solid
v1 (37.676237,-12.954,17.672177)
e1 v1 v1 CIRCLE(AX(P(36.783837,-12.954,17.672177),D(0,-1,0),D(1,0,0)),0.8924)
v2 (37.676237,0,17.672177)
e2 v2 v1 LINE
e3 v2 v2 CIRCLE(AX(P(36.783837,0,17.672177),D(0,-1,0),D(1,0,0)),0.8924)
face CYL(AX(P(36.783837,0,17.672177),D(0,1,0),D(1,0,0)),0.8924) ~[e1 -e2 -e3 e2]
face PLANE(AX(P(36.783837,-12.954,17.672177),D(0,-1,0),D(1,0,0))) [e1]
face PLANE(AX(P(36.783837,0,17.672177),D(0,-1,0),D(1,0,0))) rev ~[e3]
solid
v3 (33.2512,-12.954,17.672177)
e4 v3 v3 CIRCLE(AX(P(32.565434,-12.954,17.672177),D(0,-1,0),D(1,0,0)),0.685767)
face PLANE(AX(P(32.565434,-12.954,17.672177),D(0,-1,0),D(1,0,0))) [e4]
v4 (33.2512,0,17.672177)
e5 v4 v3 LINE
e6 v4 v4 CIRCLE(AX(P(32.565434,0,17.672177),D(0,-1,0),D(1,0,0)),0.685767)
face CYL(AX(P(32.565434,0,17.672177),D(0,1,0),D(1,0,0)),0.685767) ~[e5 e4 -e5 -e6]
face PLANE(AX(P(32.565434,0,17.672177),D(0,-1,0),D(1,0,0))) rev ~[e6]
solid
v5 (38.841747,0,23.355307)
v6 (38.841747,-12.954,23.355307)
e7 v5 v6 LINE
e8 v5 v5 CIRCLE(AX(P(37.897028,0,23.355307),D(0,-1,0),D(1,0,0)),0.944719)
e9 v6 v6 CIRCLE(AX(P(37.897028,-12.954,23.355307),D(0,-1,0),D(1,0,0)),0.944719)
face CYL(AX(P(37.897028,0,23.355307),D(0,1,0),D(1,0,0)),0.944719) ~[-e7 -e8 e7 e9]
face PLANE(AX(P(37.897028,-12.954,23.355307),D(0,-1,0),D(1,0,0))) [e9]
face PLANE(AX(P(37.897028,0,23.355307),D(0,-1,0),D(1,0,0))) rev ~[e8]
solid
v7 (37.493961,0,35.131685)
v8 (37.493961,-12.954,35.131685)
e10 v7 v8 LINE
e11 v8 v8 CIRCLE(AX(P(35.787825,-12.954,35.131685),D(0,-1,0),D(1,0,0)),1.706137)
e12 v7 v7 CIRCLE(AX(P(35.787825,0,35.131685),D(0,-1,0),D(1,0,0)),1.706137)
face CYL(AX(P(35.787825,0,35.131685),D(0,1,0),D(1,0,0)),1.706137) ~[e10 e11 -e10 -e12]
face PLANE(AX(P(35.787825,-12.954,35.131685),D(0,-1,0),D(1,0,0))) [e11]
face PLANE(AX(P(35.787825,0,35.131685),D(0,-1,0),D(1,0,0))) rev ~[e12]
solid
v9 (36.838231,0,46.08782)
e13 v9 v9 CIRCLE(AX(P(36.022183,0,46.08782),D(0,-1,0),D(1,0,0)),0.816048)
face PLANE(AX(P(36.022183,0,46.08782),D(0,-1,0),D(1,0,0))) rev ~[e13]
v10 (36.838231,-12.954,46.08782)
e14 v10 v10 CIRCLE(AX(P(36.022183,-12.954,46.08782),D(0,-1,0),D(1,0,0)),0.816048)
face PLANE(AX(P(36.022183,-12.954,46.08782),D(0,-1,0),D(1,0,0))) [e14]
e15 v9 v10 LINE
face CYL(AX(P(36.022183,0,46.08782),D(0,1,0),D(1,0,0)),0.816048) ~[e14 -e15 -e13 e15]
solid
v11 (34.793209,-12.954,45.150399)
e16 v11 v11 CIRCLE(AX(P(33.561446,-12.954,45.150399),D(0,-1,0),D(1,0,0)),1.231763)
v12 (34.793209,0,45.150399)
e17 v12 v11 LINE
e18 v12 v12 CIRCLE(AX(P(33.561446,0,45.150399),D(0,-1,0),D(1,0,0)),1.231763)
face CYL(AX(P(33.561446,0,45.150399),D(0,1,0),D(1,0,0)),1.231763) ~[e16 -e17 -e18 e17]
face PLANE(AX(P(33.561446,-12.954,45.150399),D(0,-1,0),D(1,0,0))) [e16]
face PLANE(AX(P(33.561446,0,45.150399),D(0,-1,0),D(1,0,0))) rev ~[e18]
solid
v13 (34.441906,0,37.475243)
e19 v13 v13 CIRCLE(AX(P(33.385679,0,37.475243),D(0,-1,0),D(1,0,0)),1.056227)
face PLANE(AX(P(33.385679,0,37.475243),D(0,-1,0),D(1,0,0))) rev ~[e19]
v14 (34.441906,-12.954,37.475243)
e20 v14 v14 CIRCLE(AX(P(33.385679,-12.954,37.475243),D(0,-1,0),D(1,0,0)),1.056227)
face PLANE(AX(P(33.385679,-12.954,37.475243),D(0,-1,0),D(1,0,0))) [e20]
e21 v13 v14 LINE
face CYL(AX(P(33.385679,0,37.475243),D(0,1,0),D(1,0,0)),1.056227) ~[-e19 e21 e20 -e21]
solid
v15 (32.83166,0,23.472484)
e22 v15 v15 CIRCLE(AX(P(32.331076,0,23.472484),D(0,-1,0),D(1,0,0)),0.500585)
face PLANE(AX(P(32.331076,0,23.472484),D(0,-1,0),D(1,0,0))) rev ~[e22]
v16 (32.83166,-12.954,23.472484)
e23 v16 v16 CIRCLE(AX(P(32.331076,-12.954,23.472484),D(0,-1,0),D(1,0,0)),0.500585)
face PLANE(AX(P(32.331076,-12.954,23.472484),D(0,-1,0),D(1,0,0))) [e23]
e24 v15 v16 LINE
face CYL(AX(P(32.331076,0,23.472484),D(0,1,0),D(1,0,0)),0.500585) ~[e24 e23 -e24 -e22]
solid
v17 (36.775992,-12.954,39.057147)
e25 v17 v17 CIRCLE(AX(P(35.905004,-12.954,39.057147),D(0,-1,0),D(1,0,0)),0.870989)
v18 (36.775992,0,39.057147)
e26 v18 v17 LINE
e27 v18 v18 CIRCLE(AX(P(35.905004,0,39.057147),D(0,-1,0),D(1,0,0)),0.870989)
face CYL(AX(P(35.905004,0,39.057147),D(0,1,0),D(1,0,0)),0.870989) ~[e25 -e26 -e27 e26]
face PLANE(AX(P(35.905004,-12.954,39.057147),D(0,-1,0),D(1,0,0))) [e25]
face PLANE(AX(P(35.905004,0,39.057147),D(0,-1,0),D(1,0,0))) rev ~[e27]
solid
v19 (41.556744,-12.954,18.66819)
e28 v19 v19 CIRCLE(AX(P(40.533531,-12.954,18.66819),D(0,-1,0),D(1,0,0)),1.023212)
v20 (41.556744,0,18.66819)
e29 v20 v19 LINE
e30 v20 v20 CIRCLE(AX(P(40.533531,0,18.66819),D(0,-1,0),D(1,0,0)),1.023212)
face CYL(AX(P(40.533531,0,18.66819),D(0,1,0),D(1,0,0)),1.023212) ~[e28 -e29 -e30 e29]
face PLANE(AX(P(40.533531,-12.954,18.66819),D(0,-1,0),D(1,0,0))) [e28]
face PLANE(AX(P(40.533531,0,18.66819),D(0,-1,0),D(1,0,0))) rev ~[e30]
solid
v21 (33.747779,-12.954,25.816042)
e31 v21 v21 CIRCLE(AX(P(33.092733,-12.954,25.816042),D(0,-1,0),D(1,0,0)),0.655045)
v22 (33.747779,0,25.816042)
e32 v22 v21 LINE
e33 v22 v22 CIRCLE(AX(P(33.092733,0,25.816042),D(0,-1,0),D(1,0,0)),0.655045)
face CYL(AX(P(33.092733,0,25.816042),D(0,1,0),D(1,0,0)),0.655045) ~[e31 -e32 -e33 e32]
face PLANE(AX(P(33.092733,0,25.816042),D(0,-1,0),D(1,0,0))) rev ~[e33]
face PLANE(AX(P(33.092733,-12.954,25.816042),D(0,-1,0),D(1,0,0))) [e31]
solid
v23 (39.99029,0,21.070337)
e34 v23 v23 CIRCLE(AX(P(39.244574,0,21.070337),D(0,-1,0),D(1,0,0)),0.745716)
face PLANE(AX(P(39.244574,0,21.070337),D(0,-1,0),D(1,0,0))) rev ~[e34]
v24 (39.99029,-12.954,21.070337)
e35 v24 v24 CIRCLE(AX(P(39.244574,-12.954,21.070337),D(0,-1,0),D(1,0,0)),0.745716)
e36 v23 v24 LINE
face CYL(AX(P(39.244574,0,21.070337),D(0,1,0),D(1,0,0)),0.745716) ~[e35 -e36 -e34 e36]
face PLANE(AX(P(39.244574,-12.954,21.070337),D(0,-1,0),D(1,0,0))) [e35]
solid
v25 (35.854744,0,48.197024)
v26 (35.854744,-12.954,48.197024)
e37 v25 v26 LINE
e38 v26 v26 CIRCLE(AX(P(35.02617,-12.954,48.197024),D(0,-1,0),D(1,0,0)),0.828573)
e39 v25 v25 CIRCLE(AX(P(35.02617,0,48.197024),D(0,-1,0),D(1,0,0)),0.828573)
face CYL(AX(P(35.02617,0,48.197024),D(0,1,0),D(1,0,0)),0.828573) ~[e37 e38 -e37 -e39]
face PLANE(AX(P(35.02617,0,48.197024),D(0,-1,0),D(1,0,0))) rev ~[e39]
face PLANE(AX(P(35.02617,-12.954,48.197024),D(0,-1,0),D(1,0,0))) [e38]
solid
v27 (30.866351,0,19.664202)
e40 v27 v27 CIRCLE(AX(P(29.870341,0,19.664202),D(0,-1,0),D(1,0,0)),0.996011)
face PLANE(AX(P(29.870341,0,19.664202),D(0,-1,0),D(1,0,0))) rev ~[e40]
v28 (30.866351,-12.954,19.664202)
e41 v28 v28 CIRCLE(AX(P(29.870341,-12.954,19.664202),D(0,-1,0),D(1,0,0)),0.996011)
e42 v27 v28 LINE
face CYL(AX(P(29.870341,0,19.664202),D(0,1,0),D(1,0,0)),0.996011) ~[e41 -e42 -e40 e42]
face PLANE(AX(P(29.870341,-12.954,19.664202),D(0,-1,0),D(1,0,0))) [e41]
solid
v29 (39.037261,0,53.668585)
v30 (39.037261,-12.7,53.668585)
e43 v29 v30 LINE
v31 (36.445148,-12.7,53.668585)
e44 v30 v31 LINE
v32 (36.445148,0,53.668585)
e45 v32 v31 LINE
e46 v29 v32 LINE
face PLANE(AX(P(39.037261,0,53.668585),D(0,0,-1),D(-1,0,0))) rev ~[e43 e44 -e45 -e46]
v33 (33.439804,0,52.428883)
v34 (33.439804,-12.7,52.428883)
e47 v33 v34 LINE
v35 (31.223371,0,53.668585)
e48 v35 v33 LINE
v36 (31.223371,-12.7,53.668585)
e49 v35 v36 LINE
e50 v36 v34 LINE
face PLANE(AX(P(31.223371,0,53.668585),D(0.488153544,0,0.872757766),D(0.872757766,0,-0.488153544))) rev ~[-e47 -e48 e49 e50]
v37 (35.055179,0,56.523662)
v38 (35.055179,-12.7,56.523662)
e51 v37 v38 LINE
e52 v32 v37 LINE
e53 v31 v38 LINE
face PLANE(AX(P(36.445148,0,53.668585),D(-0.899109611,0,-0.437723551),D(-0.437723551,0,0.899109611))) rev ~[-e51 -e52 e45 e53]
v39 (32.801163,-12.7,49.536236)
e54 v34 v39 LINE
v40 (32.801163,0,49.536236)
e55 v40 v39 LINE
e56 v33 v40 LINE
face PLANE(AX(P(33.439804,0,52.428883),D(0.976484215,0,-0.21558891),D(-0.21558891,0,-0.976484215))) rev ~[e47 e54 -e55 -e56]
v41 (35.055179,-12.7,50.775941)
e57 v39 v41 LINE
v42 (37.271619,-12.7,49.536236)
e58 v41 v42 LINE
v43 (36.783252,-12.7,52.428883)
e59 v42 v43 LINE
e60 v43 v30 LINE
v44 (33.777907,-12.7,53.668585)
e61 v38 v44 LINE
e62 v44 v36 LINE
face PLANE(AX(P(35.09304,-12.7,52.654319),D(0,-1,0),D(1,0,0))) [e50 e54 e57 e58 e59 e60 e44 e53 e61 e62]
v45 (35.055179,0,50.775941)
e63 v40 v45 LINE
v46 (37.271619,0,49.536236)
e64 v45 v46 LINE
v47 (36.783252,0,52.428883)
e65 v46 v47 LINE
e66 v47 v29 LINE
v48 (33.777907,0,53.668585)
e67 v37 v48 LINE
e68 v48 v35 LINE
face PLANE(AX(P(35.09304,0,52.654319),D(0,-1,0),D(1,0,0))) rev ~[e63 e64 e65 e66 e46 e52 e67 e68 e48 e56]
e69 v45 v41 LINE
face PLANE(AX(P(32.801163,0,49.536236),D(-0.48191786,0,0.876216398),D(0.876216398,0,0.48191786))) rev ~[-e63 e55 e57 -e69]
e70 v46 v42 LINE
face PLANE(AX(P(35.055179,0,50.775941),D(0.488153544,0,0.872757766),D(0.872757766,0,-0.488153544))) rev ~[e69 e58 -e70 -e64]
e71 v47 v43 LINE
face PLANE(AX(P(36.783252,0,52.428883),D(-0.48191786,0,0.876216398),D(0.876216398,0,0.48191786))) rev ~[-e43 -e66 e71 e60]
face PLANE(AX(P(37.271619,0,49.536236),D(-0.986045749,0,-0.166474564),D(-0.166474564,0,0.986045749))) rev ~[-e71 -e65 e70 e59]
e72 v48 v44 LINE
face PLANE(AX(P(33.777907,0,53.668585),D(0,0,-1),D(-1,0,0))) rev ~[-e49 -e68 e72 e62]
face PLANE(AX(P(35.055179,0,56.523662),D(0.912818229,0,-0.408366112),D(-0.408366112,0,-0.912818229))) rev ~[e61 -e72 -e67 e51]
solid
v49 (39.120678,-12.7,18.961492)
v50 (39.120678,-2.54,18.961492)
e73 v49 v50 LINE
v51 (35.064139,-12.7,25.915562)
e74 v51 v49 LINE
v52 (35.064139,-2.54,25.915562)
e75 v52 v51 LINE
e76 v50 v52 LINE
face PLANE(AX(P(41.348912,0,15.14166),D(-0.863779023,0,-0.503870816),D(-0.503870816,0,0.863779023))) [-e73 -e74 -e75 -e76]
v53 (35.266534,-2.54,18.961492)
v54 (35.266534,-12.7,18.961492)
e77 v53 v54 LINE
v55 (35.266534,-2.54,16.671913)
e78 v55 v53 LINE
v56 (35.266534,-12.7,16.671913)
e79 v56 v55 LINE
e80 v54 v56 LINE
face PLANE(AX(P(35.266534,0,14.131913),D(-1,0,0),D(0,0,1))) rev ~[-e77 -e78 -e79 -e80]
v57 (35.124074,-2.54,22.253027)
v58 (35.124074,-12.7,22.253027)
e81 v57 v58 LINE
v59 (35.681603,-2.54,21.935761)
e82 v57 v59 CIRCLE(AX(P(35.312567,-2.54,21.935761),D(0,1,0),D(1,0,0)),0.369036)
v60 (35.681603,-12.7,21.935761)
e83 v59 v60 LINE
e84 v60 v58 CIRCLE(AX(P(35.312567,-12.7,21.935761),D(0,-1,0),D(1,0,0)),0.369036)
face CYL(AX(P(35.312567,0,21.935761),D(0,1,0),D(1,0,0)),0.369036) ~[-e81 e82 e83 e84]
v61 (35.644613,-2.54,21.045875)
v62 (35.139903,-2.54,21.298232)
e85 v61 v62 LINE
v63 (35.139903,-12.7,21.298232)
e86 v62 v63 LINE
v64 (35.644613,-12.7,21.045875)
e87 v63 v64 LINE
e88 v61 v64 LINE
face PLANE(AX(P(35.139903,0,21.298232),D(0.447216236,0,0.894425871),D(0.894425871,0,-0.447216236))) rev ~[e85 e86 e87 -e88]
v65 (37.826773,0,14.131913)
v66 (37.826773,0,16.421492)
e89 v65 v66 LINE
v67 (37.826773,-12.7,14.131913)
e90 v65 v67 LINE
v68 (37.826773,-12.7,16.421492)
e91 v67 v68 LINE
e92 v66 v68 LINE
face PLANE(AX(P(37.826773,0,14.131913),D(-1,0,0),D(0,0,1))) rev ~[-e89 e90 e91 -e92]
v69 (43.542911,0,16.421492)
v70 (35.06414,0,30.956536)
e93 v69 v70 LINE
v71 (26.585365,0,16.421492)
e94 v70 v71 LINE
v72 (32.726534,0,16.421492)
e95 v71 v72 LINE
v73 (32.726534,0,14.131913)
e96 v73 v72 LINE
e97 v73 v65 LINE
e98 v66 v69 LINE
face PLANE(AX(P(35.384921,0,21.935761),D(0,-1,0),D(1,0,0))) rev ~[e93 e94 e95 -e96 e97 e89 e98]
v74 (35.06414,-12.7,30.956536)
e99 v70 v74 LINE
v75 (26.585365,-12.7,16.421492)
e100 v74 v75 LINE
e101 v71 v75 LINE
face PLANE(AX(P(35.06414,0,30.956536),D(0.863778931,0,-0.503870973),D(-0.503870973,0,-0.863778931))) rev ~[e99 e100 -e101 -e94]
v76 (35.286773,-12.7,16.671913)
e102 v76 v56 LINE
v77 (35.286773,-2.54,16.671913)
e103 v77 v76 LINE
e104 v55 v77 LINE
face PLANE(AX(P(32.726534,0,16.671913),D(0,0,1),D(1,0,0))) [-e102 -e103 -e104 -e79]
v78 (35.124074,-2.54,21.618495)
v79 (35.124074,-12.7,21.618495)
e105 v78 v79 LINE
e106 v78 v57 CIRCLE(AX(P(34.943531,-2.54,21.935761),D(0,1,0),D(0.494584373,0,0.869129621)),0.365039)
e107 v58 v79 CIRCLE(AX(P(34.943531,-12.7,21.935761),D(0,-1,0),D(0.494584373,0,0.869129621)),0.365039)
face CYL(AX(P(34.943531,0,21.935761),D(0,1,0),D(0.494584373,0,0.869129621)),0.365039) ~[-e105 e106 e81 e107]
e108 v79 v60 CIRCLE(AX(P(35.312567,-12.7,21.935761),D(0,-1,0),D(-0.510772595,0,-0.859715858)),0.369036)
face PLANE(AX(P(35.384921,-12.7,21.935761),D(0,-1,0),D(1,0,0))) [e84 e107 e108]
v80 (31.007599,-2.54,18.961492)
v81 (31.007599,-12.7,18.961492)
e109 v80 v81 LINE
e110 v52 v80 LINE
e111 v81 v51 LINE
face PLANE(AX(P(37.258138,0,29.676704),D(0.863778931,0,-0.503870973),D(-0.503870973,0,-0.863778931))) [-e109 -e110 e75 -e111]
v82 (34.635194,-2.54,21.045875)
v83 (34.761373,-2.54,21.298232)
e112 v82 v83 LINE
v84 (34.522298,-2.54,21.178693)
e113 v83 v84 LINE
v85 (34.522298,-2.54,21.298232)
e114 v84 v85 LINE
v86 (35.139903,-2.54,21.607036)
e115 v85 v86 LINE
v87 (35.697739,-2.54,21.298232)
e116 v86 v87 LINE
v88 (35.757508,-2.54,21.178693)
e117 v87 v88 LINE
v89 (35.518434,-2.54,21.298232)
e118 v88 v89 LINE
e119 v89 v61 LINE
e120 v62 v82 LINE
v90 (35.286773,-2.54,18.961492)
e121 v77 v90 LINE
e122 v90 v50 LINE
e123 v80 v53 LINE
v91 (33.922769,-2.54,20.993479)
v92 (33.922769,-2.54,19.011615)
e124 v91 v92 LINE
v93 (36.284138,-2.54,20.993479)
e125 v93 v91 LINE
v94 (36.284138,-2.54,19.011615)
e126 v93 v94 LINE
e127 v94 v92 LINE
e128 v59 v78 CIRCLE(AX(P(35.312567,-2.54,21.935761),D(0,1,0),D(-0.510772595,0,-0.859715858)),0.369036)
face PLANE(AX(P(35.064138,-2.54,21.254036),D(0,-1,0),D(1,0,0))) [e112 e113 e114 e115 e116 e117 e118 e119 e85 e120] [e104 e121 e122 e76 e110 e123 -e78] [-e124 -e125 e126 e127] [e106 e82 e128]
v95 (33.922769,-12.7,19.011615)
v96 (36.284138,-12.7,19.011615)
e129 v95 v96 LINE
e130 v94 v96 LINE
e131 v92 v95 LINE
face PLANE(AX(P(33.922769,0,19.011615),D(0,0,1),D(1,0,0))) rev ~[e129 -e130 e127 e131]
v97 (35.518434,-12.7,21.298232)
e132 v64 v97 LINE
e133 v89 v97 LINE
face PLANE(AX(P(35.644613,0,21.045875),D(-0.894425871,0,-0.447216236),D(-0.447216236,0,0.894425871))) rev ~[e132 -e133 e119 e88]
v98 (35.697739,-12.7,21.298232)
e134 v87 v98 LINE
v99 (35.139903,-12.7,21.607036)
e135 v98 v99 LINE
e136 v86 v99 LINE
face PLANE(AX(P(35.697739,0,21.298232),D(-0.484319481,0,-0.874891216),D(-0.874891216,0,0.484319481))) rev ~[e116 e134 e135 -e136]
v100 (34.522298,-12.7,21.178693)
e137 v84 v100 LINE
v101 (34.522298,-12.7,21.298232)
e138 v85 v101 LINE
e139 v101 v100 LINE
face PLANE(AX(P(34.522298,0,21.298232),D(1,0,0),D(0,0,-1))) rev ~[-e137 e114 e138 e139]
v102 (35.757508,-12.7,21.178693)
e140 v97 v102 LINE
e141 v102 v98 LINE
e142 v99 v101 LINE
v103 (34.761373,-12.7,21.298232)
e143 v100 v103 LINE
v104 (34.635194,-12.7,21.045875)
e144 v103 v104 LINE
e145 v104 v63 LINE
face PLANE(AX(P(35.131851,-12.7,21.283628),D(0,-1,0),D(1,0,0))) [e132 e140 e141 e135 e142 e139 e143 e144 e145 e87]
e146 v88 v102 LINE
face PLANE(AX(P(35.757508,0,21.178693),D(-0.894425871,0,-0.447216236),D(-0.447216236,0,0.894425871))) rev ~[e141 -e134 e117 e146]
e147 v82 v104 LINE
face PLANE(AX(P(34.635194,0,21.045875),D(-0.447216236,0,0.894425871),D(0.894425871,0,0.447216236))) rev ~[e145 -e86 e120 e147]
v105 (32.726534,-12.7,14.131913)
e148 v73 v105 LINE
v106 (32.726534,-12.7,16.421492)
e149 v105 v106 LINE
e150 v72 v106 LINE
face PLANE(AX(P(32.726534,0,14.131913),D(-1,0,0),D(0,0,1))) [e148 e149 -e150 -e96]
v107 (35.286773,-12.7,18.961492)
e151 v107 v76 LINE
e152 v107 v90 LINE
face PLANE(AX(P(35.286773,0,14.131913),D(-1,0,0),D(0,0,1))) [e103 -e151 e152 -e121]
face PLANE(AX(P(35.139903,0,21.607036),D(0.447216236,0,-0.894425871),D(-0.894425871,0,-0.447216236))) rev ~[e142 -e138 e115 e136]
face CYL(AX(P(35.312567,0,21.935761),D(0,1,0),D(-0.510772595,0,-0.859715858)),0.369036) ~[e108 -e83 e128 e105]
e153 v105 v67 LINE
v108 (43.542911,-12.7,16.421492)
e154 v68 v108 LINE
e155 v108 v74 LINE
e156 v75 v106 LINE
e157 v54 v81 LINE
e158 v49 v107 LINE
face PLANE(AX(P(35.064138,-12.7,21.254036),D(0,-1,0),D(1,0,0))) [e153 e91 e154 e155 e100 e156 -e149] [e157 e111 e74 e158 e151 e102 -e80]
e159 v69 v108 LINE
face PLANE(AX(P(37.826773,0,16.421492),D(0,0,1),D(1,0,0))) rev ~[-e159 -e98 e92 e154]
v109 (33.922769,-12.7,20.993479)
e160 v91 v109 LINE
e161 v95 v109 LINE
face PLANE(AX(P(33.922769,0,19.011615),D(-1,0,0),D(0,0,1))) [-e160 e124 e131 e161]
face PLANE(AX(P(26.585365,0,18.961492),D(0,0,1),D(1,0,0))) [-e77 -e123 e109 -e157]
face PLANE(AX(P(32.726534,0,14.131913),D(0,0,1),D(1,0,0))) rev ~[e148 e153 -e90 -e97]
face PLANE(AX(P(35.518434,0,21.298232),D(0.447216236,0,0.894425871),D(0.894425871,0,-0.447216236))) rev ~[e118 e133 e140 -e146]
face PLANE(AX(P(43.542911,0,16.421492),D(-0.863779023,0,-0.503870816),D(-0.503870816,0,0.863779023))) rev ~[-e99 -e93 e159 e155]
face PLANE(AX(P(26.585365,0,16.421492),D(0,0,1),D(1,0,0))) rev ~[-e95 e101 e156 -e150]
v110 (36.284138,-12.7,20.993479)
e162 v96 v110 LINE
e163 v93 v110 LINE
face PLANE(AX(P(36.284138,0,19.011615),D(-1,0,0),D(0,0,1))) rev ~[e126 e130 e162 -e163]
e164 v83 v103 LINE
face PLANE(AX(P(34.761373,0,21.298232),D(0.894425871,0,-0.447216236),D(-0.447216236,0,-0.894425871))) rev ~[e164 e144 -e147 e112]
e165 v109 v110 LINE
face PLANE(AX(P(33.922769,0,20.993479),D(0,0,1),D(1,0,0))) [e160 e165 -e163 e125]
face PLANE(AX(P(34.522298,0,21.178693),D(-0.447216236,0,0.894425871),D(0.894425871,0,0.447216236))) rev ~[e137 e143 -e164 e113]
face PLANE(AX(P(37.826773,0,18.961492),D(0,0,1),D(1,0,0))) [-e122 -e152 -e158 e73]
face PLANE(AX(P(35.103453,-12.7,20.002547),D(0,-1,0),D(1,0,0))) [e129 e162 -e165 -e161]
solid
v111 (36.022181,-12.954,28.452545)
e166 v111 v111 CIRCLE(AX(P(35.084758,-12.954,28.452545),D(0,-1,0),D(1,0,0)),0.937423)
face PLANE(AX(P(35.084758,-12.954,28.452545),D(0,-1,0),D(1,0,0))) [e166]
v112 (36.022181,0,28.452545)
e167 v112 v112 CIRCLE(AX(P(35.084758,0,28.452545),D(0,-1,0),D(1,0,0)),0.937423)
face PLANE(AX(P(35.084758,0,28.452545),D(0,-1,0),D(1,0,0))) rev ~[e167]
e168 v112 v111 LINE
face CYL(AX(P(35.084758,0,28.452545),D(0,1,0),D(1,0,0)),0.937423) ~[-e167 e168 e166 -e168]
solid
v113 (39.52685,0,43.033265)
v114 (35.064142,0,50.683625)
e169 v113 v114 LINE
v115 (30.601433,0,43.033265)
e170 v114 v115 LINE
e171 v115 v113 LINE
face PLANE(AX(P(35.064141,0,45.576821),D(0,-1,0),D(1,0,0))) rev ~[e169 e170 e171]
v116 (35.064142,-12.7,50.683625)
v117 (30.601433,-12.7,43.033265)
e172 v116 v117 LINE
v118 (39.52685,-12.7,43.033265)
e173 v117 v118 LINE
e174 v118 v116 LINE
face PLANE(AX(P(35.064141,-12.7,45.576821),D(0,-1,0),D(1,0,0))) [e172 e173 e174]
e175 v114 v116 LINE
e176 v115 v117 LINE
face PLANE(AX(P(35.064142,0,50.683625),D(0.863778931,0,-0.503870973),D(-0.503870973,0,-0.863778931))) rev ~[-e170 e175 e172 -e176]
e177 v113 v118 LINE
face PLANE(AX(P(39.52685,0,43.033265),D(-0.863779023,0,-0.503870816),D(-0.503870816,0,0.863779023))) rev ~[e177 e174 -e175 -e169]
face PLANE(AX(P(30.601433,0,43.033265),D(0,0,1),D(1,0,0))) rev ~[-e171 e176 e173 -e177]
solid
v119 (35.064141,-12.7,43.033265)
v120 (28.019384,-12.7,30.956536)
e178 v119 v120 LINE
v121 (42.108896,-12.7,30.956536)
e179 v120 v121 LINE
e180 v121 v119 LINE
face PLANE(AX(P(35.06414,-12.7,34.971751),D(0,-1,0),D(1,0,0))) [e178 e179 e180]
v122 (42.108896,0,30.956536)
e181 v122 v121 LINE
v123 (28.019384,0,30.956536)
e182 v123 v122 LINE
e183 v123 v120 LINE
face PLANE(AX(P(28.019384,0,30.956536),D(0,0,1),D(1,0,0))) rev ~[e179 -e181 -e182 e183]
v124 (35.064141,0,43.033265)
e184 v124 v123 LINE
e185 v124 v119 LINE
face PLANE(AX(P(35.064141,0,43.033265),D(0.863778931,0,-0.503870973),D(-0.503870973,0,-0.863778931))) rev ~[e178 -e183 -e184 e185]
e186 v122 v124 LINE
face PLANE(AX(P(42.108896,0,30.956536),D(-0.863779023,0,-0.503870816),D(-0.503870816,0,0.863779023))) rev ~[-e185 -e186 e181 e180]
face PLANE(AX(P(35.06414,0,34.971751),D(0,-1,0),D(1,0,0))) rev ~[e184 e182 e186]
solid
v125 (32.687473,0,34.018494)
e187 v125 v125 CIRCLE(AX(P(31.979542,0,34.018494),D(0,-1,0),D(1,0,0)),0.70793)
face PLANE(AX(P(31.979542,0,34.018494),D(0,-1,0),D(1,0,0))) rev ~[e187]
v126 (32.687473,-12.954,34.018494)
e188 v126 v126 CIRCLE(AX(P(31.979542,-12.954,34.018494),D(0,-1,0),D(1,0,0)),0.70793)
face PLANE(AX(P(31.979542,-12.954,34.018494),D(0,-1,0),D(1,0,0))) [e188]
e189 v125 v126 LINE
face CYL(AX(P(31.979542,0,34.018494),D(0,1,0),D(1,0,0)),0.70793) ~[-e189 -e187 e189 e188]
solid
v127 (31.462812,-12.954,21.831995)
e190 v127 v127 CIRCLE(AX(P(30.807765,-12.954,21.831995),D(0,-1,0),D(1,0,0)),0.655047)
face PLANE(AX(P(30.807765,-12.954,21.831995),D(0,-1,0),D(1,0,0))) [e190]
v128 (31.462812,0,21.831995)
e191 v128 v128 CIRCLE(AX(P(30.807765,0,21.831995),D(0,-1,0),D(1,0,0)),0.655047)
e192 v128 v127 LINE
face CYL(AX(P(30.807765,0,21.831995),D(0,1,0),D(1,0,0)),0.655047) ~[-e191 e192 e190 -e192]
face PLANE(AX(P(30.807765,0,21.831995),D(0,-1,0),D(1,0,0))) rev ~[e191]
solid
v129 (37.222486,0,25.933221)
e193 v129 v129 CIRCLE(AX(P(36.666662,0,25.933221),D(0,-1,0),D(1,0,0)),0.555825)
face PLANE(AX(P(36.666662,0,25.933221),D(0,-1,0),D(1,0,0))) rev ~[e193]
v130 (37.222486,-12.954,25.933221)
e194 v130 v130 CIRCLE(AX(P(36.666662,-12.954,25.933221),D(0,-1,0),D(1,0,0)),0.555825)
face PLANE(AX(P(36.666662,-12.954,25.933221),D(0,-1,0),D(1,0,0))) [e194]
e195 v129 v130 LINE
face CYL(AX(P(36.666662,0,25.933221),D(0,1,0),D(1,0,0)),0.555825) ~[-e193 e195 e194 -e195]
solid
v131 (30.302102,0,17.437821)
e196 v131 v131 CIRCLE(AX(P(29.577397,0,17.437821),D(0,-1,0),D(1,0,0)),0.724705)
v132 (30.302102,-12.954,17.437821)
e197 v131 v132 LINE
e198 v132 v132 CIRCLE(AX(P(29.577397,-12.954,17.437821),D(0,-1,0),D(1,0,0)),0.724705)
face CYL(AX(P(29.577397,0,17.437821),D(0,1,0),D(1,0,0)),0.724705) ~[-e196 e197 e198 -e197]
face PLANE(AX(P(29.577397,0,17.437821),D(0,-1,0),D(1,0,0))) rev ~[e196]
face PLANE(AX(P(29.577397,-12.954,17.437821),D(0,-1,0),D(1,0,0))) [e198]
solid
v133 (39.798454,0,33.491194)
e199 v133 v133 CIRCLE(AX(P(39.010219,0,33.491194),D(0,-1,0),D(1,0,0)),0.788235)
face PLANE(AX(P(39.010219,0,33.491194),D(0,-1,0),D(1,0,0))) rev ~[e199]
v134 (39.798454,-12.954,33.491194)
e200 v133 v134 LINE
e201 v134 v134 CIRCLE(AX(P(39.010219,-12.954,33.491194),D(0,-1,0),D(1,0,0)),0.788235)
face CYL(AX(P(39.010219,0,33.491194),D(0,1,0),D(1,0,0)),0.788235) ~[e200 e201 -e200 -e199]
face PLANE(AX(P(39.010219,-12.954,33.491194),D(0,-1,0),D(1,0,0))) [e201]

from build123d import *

# Parameters (mm, degrees)
F1_DEPTH  = 12.7
F0_W      = 5.1002390683
F0_H      = 2.2895792141
F3_DEPTH  = 12.7
F4_T      = -2.54
F5_W      = 2.3613683879
F5_H      = 1.981863752
F6_DEPTH  = 12.7
F9_DEPTH  = 12.7
F10_R     = 0.8285733242
F11_DEPTH = 12.954
F10_R_2   = 0.816047988
F10_R_3   = 1.231762956
F10_R_4   = 0.8709889413
F10_R_5   = 1.0562272673
F10_R_6   = 1.7061367345
F10_R_7   = 0.7079304111
F10_R_8   = 0.7882346416
F10_R_9   = 0.9374227375
F10_R_10  = 0.5558247078
F10_R_11  = 0.9447190346
F10_R_12  = 1.0232124047
F10_R_13  = 0.7457160445
F10_R_14  = 0.8924004094
F10_R_15  = 0.6550450615
F10_R_16  = 0.5005847924
F10_R_17  = 0.6550465609
F10_R_18  = 0.9960107067
F10_R_19  = 0.7247049022
F10_R_20  = 0.6857666645


with BuildPart() as f1:
    # F0 (on Front) → F1 (new body)
    with BuildSketch(Plane.XZ):
        Polygon((39.5268499851, 43.0332645774), (35.0641421974, 50.6836250424), (30.601432547, 43.0332645774), (35.064141266, 43.0332645774), align=None)
    extrude(amount=F1_DEPTH)


with BuildPart() as f1b:
    # F0 (on Front) → F1, piece 2 (new body)
    with BuildSketch(Plane.XZ):
        Polygon((43.5429106829, 16.4214921757), (35.0641397959, 30.9565360708), (26.58536537, 16.4214921757), (32.726533711, 16.4214921757), (37.8267727792, 16.4214921757), align=None)
        with Locations((35.2766532451, 15.2767025686)):
            Rectangle(F0_W, F0_H)
    extrude(amount=F1_DEPTH)

    # F4
    f4_openings = [f1b.faces().sort_by_distance(p)[0] for p in [
        (35.082532, -12.7, 20.748073),
    ]]
    offset(amount=F4_T, openings=f4_openings, kind=Kind.INTERSECTION)

    # F5 (on Front) → F6 (join)
    with BuildSketch(Plane.XZ):
        with Locations((35.1034533232, 20.0025467202)):
            Rectangle(F5_W, F5_H)
    extrude(amount=F6_DEPTH)

    # F8 (on Front) + F7 (on Front) → F9 (join)
    with BuildSketch(Plane.XZ):
        with BuildLine():
            ThreePointArc((35.1240735138, 21.6184950134), (35.4950862646, 21.6150209975), (35.6816027436, 21.9357609749))
            ThreePointArc((35.6816027436, 21.9357609749), (35.4950862646, 22.2565009523), (35.1240735138, 22.2530269364))
            ThreePointArc((35.1240735138, 22.2530269364), (35.2590926691, 22.1192661278), (35.3085697856, 21.9357609749))
            ThreePointArc((35.3085697856, 21.9357609749), (35.2590926691, 21.7522558219), (35.1240735138, 21.6184950134))
        make_face()
        with BuildLine():
            ThreePointArc((35.3085697856, 21.9357609749), (35.2590926691, 22.1192661278), (35.1240735138, 22.2530269364))
            ThreePointArc((35.1240735138, 22.2530269364), (34.9435310688, 21.9357609749), (35.1240735138, 21.6184950134))
            ThreePointArc((35.1240735138, 21.6184950134), (35.2590926691, 21.7522558219), (35.3085697856, 21.9357609749))
        make_face()
        with BuildLine():
            ThreePointArc((35.1240735138, 21.6184950134), (34.9435310688, 21.9357609749), (35.1240735138, 22.2530269364))
            ThreePointArc((35.1240735138, 22.2530269364), (34.578492352, 21.9357609749), (35.1240735138, 21.6184950134))
        make_face()
    with BuildSketch(Plane.XZ):
        Polygon((34.635193646, 21.0458748043), (35.1399034262, 21.298231557), (35.6446132064, 21.0458748043), (35.5184338987, 21.298231557), (35.7575084818, 21.1786933831), (35.6977389537, 21.298231557), (35.1399034262, 21.6070363641), (34.5222983705, 21.298231557), (34.5222983705, 21.1786933831), (34.7613729537, 21.298231557), align=None)
    extrude(amount=F9_DEPTH)


with BuildPart() as f1c:
    # F0 (on Front) → F1, piece 3 (new body)
    with BuildSketch(Plane.XZ):
        Polygon((42.1088956411, 30.9565360708), (35.064141266, 43.0332645774), (28.0193839506, 30.9565360708), (35.0641397959, 30.9565360708), align=None)
    extrude(amount=F1_DEPTH)


with BuildPart() as f3:
    # F2 (on Front) → F3 (new body)
    with BuildSketch(Plane.XZ):
        Polygon((32.8011631288, 49.5362356305), (35.0551791489, 50.7759414613), (37.2716188431, 49.5362356305), (36.7832519114, 52.4288825691), (39.0372611582, 53.6685846746), (36.4451482892, 53.6685846746), (35.0551791489, 56.5236620605), (33.7779074907, 53.6685846746), (31.2233708347, 53.6685846746), (33.4398038685, 52.4288825691), align=None)
    extrude(amount=F3_DEPTH)


with BuildPart() as f11:
    # F10 (on Front) → F11 (new body)
    with BuildSketch(Plane.XZ):
        with Locations((35.0261703134, 48.1970235705)):
            Circle(F10_R)
    extrude(amount=F11_DEPTH)


with BuildPart() as f11b:
    # F10 (on Front) → F11, piece 2 (new body)
    with BuildSketch(Plane.XZ):
        with Locations((36.022182554, 46.0878200829)):
            Circle(F10_R_2)
    extrude(amount=F11_DEPTH)


with BuildPart() as f11c:
    # F10 (on Front) → F11, piece 3 (new body)
    with BuildSketch(Plane.XZ):
        with Locations((33.5614457726, 45.1503992081)):
            Circle(F10_R_3)
    extrude(amount=F11_DEPTH)


with BuildPart() as f11d:
    # F10 (on Front) → F11, piece 4 (new body)
    with BuildSketch(Plane.XZ):
        with Locations((35.9050035477, 39.0571467578)):
            Circle(F10_R_4)
    extrude(amount=F11_DEPTH)


with BuildPart() as f11e:
    # F10 (on Front) → F11, piece 5 (new body)
    with BuildSketch(Plane.XZ):
        with Locations((33.3856791258, 37.4752432108)):
            Circle(F10_R_5)
    extrude(amount=F11_DEPTH)


with BuildPart() as f11f:
    # F10 (on Front) → F11, piece 6 (new body)
    with BuildSketch(Plane.XZ):
        with Locations((35.7878245413, 35.1316854358)):
            Circle(F10_R_6)
    extrude(amount=F11_DEPTH)


with BuildPart() as f11g:
    # F10 (on Front) → F11, piece 7 (new body)
    with BuildSketch(Plane.XZ):
        with Locations((31.9795422256, 34.0184941888)):
            Circle(F10_R_7)
    extrude(amount=F11_DEPTH)


with BuildPart() as f11h:
    # F10 (on Front) → F11, piece 8 (new body)
    with BuildSketch(Plane.XZ):
        with Locations((39.010219276, 33.4911942482)):
            Circle(F10_R_8)
    extrude(amount=F11_DEPTH)


with BuildPart() as f11i:
    # F10 (on Front) → F11, piece 9 (new body)
    with BuildSketch(Plane.XZ):
        with Locations((35.0847579539, 28.4525454044)):
            Circle(F10_R_9)
    extrude(amount=F11_DEPTH)


with BuildPart() as f11j:
    # F10 (on Front) → F11, piece 10 (new body)
    with BuildSketch(Plane.XZ):
        with Locations((36.6666615009, 25.9332209826)):
            Circle(F10_R_10)
    extrude(amount=F11_DEPTH)


with BuildPart() as f11k:
    # F10 (on Front) → F11, piece 11 (new body)
    with BuildSketch(Plane.XZ):
        with Locations((37.897028029, 23.3553070575)):
            Circle(F10_R_11)
    extrude(amount=F11_DEPTH)


with BuildPart() as f11l:
    # F10 (on Front) → F11, piece 12 (new body)
    with BuildSketch(Plane.XZ):
        with Locations((40.5335314572, 18.6681896448)):
            Circle(F10_R_12)
    extrude(amount=F11_DEPTH)


with BuildPart() as f11m:
    # F10 (on Front) → F11, piece 13 (new body)
    with BuildSketch(Plane.XZ):
        with Locations((39.2445735633, 21.070336923)):
            Circle(F10_R_13)
    extrude(amount=F11_DEPTH)


with BuildPart() as f11n:
    # F10 (on Front) → F11, piece 14 (new body)
    with BuildSketch(Plane.XZ):
        with Locations((36.783836782, 17.6721774042)):
            Circle(F10_R_14)
    extrude(amount=F11_DEPTH)


with BuildPart() as f11o:
    # F10 (on Front) → F11, piece 15 (new body)
    with BuildSketch(Plane.XZ):
        with Locations((33.0927334726, 25.8160419762)):
            Circle(F10_R_15)
    extrude(amount=F11_DEPTH)


with BuildPart() as f11p:
    # F10 (on Front) → F11, piece 16 (new body)
    with BuildSketch(Plane.XZ):
        with Locations((32.3310755193, 23.4724842012)):
            Circle(F10_R_16)
    extrude(amount=F11_DEPTH)


with BuildPart() as f11q:
    # F10 (on Front) → F11, piece 17 (new body)
    with BuildSketch(Plane.XZ):
        with Locations((30.8077652007, 21.8319948763)):
            Circle(F10_R_17)
    extrude(amount=F11_DEPTH)


with BuildPart() as f11r:
    # F10 (on Front) → F11, piece 18 (new body)
    with BuildSketch(Plane.XZ):
        with Locations((29.8703406006, 19.6642018855)):
            Circle(F10_R_18)
    extrude(amount=F11_DEPTH)


with BuildPart() as f11s:
    # F10 (on Front) → F11, piece 19 (new body)
    with BuildSketch(Plane.XZ):
        with Locations((29.5773968101, 17.4378212541)):
            Circle(F10_R_19)
    extrude(amount=F11_DEPTH)


with BuildPart() as f11t:
    # F10 (on Front) → F11, piece 20 (new body)
    with BuildSketch(Plane.XZ):
        with Locations((32.565433532, 17.6721774042)):
            Circle(F10_R_20)
    extrude(amount=F11_DEPTH)


solid = Compound([f1.part, f1b.part, f1c.part, f3.part, f11.part, f11b.part, f11c.part, f11d.part, f11e.part, f11f.part, f11g.part, f11h.part, f11i.part, f11j.part, f11k.part, f11l.part, f11m.part, f11n.part, f11o.part, f11p.part, f11q.part, f11r.part, f11s.part, f11t.part])
